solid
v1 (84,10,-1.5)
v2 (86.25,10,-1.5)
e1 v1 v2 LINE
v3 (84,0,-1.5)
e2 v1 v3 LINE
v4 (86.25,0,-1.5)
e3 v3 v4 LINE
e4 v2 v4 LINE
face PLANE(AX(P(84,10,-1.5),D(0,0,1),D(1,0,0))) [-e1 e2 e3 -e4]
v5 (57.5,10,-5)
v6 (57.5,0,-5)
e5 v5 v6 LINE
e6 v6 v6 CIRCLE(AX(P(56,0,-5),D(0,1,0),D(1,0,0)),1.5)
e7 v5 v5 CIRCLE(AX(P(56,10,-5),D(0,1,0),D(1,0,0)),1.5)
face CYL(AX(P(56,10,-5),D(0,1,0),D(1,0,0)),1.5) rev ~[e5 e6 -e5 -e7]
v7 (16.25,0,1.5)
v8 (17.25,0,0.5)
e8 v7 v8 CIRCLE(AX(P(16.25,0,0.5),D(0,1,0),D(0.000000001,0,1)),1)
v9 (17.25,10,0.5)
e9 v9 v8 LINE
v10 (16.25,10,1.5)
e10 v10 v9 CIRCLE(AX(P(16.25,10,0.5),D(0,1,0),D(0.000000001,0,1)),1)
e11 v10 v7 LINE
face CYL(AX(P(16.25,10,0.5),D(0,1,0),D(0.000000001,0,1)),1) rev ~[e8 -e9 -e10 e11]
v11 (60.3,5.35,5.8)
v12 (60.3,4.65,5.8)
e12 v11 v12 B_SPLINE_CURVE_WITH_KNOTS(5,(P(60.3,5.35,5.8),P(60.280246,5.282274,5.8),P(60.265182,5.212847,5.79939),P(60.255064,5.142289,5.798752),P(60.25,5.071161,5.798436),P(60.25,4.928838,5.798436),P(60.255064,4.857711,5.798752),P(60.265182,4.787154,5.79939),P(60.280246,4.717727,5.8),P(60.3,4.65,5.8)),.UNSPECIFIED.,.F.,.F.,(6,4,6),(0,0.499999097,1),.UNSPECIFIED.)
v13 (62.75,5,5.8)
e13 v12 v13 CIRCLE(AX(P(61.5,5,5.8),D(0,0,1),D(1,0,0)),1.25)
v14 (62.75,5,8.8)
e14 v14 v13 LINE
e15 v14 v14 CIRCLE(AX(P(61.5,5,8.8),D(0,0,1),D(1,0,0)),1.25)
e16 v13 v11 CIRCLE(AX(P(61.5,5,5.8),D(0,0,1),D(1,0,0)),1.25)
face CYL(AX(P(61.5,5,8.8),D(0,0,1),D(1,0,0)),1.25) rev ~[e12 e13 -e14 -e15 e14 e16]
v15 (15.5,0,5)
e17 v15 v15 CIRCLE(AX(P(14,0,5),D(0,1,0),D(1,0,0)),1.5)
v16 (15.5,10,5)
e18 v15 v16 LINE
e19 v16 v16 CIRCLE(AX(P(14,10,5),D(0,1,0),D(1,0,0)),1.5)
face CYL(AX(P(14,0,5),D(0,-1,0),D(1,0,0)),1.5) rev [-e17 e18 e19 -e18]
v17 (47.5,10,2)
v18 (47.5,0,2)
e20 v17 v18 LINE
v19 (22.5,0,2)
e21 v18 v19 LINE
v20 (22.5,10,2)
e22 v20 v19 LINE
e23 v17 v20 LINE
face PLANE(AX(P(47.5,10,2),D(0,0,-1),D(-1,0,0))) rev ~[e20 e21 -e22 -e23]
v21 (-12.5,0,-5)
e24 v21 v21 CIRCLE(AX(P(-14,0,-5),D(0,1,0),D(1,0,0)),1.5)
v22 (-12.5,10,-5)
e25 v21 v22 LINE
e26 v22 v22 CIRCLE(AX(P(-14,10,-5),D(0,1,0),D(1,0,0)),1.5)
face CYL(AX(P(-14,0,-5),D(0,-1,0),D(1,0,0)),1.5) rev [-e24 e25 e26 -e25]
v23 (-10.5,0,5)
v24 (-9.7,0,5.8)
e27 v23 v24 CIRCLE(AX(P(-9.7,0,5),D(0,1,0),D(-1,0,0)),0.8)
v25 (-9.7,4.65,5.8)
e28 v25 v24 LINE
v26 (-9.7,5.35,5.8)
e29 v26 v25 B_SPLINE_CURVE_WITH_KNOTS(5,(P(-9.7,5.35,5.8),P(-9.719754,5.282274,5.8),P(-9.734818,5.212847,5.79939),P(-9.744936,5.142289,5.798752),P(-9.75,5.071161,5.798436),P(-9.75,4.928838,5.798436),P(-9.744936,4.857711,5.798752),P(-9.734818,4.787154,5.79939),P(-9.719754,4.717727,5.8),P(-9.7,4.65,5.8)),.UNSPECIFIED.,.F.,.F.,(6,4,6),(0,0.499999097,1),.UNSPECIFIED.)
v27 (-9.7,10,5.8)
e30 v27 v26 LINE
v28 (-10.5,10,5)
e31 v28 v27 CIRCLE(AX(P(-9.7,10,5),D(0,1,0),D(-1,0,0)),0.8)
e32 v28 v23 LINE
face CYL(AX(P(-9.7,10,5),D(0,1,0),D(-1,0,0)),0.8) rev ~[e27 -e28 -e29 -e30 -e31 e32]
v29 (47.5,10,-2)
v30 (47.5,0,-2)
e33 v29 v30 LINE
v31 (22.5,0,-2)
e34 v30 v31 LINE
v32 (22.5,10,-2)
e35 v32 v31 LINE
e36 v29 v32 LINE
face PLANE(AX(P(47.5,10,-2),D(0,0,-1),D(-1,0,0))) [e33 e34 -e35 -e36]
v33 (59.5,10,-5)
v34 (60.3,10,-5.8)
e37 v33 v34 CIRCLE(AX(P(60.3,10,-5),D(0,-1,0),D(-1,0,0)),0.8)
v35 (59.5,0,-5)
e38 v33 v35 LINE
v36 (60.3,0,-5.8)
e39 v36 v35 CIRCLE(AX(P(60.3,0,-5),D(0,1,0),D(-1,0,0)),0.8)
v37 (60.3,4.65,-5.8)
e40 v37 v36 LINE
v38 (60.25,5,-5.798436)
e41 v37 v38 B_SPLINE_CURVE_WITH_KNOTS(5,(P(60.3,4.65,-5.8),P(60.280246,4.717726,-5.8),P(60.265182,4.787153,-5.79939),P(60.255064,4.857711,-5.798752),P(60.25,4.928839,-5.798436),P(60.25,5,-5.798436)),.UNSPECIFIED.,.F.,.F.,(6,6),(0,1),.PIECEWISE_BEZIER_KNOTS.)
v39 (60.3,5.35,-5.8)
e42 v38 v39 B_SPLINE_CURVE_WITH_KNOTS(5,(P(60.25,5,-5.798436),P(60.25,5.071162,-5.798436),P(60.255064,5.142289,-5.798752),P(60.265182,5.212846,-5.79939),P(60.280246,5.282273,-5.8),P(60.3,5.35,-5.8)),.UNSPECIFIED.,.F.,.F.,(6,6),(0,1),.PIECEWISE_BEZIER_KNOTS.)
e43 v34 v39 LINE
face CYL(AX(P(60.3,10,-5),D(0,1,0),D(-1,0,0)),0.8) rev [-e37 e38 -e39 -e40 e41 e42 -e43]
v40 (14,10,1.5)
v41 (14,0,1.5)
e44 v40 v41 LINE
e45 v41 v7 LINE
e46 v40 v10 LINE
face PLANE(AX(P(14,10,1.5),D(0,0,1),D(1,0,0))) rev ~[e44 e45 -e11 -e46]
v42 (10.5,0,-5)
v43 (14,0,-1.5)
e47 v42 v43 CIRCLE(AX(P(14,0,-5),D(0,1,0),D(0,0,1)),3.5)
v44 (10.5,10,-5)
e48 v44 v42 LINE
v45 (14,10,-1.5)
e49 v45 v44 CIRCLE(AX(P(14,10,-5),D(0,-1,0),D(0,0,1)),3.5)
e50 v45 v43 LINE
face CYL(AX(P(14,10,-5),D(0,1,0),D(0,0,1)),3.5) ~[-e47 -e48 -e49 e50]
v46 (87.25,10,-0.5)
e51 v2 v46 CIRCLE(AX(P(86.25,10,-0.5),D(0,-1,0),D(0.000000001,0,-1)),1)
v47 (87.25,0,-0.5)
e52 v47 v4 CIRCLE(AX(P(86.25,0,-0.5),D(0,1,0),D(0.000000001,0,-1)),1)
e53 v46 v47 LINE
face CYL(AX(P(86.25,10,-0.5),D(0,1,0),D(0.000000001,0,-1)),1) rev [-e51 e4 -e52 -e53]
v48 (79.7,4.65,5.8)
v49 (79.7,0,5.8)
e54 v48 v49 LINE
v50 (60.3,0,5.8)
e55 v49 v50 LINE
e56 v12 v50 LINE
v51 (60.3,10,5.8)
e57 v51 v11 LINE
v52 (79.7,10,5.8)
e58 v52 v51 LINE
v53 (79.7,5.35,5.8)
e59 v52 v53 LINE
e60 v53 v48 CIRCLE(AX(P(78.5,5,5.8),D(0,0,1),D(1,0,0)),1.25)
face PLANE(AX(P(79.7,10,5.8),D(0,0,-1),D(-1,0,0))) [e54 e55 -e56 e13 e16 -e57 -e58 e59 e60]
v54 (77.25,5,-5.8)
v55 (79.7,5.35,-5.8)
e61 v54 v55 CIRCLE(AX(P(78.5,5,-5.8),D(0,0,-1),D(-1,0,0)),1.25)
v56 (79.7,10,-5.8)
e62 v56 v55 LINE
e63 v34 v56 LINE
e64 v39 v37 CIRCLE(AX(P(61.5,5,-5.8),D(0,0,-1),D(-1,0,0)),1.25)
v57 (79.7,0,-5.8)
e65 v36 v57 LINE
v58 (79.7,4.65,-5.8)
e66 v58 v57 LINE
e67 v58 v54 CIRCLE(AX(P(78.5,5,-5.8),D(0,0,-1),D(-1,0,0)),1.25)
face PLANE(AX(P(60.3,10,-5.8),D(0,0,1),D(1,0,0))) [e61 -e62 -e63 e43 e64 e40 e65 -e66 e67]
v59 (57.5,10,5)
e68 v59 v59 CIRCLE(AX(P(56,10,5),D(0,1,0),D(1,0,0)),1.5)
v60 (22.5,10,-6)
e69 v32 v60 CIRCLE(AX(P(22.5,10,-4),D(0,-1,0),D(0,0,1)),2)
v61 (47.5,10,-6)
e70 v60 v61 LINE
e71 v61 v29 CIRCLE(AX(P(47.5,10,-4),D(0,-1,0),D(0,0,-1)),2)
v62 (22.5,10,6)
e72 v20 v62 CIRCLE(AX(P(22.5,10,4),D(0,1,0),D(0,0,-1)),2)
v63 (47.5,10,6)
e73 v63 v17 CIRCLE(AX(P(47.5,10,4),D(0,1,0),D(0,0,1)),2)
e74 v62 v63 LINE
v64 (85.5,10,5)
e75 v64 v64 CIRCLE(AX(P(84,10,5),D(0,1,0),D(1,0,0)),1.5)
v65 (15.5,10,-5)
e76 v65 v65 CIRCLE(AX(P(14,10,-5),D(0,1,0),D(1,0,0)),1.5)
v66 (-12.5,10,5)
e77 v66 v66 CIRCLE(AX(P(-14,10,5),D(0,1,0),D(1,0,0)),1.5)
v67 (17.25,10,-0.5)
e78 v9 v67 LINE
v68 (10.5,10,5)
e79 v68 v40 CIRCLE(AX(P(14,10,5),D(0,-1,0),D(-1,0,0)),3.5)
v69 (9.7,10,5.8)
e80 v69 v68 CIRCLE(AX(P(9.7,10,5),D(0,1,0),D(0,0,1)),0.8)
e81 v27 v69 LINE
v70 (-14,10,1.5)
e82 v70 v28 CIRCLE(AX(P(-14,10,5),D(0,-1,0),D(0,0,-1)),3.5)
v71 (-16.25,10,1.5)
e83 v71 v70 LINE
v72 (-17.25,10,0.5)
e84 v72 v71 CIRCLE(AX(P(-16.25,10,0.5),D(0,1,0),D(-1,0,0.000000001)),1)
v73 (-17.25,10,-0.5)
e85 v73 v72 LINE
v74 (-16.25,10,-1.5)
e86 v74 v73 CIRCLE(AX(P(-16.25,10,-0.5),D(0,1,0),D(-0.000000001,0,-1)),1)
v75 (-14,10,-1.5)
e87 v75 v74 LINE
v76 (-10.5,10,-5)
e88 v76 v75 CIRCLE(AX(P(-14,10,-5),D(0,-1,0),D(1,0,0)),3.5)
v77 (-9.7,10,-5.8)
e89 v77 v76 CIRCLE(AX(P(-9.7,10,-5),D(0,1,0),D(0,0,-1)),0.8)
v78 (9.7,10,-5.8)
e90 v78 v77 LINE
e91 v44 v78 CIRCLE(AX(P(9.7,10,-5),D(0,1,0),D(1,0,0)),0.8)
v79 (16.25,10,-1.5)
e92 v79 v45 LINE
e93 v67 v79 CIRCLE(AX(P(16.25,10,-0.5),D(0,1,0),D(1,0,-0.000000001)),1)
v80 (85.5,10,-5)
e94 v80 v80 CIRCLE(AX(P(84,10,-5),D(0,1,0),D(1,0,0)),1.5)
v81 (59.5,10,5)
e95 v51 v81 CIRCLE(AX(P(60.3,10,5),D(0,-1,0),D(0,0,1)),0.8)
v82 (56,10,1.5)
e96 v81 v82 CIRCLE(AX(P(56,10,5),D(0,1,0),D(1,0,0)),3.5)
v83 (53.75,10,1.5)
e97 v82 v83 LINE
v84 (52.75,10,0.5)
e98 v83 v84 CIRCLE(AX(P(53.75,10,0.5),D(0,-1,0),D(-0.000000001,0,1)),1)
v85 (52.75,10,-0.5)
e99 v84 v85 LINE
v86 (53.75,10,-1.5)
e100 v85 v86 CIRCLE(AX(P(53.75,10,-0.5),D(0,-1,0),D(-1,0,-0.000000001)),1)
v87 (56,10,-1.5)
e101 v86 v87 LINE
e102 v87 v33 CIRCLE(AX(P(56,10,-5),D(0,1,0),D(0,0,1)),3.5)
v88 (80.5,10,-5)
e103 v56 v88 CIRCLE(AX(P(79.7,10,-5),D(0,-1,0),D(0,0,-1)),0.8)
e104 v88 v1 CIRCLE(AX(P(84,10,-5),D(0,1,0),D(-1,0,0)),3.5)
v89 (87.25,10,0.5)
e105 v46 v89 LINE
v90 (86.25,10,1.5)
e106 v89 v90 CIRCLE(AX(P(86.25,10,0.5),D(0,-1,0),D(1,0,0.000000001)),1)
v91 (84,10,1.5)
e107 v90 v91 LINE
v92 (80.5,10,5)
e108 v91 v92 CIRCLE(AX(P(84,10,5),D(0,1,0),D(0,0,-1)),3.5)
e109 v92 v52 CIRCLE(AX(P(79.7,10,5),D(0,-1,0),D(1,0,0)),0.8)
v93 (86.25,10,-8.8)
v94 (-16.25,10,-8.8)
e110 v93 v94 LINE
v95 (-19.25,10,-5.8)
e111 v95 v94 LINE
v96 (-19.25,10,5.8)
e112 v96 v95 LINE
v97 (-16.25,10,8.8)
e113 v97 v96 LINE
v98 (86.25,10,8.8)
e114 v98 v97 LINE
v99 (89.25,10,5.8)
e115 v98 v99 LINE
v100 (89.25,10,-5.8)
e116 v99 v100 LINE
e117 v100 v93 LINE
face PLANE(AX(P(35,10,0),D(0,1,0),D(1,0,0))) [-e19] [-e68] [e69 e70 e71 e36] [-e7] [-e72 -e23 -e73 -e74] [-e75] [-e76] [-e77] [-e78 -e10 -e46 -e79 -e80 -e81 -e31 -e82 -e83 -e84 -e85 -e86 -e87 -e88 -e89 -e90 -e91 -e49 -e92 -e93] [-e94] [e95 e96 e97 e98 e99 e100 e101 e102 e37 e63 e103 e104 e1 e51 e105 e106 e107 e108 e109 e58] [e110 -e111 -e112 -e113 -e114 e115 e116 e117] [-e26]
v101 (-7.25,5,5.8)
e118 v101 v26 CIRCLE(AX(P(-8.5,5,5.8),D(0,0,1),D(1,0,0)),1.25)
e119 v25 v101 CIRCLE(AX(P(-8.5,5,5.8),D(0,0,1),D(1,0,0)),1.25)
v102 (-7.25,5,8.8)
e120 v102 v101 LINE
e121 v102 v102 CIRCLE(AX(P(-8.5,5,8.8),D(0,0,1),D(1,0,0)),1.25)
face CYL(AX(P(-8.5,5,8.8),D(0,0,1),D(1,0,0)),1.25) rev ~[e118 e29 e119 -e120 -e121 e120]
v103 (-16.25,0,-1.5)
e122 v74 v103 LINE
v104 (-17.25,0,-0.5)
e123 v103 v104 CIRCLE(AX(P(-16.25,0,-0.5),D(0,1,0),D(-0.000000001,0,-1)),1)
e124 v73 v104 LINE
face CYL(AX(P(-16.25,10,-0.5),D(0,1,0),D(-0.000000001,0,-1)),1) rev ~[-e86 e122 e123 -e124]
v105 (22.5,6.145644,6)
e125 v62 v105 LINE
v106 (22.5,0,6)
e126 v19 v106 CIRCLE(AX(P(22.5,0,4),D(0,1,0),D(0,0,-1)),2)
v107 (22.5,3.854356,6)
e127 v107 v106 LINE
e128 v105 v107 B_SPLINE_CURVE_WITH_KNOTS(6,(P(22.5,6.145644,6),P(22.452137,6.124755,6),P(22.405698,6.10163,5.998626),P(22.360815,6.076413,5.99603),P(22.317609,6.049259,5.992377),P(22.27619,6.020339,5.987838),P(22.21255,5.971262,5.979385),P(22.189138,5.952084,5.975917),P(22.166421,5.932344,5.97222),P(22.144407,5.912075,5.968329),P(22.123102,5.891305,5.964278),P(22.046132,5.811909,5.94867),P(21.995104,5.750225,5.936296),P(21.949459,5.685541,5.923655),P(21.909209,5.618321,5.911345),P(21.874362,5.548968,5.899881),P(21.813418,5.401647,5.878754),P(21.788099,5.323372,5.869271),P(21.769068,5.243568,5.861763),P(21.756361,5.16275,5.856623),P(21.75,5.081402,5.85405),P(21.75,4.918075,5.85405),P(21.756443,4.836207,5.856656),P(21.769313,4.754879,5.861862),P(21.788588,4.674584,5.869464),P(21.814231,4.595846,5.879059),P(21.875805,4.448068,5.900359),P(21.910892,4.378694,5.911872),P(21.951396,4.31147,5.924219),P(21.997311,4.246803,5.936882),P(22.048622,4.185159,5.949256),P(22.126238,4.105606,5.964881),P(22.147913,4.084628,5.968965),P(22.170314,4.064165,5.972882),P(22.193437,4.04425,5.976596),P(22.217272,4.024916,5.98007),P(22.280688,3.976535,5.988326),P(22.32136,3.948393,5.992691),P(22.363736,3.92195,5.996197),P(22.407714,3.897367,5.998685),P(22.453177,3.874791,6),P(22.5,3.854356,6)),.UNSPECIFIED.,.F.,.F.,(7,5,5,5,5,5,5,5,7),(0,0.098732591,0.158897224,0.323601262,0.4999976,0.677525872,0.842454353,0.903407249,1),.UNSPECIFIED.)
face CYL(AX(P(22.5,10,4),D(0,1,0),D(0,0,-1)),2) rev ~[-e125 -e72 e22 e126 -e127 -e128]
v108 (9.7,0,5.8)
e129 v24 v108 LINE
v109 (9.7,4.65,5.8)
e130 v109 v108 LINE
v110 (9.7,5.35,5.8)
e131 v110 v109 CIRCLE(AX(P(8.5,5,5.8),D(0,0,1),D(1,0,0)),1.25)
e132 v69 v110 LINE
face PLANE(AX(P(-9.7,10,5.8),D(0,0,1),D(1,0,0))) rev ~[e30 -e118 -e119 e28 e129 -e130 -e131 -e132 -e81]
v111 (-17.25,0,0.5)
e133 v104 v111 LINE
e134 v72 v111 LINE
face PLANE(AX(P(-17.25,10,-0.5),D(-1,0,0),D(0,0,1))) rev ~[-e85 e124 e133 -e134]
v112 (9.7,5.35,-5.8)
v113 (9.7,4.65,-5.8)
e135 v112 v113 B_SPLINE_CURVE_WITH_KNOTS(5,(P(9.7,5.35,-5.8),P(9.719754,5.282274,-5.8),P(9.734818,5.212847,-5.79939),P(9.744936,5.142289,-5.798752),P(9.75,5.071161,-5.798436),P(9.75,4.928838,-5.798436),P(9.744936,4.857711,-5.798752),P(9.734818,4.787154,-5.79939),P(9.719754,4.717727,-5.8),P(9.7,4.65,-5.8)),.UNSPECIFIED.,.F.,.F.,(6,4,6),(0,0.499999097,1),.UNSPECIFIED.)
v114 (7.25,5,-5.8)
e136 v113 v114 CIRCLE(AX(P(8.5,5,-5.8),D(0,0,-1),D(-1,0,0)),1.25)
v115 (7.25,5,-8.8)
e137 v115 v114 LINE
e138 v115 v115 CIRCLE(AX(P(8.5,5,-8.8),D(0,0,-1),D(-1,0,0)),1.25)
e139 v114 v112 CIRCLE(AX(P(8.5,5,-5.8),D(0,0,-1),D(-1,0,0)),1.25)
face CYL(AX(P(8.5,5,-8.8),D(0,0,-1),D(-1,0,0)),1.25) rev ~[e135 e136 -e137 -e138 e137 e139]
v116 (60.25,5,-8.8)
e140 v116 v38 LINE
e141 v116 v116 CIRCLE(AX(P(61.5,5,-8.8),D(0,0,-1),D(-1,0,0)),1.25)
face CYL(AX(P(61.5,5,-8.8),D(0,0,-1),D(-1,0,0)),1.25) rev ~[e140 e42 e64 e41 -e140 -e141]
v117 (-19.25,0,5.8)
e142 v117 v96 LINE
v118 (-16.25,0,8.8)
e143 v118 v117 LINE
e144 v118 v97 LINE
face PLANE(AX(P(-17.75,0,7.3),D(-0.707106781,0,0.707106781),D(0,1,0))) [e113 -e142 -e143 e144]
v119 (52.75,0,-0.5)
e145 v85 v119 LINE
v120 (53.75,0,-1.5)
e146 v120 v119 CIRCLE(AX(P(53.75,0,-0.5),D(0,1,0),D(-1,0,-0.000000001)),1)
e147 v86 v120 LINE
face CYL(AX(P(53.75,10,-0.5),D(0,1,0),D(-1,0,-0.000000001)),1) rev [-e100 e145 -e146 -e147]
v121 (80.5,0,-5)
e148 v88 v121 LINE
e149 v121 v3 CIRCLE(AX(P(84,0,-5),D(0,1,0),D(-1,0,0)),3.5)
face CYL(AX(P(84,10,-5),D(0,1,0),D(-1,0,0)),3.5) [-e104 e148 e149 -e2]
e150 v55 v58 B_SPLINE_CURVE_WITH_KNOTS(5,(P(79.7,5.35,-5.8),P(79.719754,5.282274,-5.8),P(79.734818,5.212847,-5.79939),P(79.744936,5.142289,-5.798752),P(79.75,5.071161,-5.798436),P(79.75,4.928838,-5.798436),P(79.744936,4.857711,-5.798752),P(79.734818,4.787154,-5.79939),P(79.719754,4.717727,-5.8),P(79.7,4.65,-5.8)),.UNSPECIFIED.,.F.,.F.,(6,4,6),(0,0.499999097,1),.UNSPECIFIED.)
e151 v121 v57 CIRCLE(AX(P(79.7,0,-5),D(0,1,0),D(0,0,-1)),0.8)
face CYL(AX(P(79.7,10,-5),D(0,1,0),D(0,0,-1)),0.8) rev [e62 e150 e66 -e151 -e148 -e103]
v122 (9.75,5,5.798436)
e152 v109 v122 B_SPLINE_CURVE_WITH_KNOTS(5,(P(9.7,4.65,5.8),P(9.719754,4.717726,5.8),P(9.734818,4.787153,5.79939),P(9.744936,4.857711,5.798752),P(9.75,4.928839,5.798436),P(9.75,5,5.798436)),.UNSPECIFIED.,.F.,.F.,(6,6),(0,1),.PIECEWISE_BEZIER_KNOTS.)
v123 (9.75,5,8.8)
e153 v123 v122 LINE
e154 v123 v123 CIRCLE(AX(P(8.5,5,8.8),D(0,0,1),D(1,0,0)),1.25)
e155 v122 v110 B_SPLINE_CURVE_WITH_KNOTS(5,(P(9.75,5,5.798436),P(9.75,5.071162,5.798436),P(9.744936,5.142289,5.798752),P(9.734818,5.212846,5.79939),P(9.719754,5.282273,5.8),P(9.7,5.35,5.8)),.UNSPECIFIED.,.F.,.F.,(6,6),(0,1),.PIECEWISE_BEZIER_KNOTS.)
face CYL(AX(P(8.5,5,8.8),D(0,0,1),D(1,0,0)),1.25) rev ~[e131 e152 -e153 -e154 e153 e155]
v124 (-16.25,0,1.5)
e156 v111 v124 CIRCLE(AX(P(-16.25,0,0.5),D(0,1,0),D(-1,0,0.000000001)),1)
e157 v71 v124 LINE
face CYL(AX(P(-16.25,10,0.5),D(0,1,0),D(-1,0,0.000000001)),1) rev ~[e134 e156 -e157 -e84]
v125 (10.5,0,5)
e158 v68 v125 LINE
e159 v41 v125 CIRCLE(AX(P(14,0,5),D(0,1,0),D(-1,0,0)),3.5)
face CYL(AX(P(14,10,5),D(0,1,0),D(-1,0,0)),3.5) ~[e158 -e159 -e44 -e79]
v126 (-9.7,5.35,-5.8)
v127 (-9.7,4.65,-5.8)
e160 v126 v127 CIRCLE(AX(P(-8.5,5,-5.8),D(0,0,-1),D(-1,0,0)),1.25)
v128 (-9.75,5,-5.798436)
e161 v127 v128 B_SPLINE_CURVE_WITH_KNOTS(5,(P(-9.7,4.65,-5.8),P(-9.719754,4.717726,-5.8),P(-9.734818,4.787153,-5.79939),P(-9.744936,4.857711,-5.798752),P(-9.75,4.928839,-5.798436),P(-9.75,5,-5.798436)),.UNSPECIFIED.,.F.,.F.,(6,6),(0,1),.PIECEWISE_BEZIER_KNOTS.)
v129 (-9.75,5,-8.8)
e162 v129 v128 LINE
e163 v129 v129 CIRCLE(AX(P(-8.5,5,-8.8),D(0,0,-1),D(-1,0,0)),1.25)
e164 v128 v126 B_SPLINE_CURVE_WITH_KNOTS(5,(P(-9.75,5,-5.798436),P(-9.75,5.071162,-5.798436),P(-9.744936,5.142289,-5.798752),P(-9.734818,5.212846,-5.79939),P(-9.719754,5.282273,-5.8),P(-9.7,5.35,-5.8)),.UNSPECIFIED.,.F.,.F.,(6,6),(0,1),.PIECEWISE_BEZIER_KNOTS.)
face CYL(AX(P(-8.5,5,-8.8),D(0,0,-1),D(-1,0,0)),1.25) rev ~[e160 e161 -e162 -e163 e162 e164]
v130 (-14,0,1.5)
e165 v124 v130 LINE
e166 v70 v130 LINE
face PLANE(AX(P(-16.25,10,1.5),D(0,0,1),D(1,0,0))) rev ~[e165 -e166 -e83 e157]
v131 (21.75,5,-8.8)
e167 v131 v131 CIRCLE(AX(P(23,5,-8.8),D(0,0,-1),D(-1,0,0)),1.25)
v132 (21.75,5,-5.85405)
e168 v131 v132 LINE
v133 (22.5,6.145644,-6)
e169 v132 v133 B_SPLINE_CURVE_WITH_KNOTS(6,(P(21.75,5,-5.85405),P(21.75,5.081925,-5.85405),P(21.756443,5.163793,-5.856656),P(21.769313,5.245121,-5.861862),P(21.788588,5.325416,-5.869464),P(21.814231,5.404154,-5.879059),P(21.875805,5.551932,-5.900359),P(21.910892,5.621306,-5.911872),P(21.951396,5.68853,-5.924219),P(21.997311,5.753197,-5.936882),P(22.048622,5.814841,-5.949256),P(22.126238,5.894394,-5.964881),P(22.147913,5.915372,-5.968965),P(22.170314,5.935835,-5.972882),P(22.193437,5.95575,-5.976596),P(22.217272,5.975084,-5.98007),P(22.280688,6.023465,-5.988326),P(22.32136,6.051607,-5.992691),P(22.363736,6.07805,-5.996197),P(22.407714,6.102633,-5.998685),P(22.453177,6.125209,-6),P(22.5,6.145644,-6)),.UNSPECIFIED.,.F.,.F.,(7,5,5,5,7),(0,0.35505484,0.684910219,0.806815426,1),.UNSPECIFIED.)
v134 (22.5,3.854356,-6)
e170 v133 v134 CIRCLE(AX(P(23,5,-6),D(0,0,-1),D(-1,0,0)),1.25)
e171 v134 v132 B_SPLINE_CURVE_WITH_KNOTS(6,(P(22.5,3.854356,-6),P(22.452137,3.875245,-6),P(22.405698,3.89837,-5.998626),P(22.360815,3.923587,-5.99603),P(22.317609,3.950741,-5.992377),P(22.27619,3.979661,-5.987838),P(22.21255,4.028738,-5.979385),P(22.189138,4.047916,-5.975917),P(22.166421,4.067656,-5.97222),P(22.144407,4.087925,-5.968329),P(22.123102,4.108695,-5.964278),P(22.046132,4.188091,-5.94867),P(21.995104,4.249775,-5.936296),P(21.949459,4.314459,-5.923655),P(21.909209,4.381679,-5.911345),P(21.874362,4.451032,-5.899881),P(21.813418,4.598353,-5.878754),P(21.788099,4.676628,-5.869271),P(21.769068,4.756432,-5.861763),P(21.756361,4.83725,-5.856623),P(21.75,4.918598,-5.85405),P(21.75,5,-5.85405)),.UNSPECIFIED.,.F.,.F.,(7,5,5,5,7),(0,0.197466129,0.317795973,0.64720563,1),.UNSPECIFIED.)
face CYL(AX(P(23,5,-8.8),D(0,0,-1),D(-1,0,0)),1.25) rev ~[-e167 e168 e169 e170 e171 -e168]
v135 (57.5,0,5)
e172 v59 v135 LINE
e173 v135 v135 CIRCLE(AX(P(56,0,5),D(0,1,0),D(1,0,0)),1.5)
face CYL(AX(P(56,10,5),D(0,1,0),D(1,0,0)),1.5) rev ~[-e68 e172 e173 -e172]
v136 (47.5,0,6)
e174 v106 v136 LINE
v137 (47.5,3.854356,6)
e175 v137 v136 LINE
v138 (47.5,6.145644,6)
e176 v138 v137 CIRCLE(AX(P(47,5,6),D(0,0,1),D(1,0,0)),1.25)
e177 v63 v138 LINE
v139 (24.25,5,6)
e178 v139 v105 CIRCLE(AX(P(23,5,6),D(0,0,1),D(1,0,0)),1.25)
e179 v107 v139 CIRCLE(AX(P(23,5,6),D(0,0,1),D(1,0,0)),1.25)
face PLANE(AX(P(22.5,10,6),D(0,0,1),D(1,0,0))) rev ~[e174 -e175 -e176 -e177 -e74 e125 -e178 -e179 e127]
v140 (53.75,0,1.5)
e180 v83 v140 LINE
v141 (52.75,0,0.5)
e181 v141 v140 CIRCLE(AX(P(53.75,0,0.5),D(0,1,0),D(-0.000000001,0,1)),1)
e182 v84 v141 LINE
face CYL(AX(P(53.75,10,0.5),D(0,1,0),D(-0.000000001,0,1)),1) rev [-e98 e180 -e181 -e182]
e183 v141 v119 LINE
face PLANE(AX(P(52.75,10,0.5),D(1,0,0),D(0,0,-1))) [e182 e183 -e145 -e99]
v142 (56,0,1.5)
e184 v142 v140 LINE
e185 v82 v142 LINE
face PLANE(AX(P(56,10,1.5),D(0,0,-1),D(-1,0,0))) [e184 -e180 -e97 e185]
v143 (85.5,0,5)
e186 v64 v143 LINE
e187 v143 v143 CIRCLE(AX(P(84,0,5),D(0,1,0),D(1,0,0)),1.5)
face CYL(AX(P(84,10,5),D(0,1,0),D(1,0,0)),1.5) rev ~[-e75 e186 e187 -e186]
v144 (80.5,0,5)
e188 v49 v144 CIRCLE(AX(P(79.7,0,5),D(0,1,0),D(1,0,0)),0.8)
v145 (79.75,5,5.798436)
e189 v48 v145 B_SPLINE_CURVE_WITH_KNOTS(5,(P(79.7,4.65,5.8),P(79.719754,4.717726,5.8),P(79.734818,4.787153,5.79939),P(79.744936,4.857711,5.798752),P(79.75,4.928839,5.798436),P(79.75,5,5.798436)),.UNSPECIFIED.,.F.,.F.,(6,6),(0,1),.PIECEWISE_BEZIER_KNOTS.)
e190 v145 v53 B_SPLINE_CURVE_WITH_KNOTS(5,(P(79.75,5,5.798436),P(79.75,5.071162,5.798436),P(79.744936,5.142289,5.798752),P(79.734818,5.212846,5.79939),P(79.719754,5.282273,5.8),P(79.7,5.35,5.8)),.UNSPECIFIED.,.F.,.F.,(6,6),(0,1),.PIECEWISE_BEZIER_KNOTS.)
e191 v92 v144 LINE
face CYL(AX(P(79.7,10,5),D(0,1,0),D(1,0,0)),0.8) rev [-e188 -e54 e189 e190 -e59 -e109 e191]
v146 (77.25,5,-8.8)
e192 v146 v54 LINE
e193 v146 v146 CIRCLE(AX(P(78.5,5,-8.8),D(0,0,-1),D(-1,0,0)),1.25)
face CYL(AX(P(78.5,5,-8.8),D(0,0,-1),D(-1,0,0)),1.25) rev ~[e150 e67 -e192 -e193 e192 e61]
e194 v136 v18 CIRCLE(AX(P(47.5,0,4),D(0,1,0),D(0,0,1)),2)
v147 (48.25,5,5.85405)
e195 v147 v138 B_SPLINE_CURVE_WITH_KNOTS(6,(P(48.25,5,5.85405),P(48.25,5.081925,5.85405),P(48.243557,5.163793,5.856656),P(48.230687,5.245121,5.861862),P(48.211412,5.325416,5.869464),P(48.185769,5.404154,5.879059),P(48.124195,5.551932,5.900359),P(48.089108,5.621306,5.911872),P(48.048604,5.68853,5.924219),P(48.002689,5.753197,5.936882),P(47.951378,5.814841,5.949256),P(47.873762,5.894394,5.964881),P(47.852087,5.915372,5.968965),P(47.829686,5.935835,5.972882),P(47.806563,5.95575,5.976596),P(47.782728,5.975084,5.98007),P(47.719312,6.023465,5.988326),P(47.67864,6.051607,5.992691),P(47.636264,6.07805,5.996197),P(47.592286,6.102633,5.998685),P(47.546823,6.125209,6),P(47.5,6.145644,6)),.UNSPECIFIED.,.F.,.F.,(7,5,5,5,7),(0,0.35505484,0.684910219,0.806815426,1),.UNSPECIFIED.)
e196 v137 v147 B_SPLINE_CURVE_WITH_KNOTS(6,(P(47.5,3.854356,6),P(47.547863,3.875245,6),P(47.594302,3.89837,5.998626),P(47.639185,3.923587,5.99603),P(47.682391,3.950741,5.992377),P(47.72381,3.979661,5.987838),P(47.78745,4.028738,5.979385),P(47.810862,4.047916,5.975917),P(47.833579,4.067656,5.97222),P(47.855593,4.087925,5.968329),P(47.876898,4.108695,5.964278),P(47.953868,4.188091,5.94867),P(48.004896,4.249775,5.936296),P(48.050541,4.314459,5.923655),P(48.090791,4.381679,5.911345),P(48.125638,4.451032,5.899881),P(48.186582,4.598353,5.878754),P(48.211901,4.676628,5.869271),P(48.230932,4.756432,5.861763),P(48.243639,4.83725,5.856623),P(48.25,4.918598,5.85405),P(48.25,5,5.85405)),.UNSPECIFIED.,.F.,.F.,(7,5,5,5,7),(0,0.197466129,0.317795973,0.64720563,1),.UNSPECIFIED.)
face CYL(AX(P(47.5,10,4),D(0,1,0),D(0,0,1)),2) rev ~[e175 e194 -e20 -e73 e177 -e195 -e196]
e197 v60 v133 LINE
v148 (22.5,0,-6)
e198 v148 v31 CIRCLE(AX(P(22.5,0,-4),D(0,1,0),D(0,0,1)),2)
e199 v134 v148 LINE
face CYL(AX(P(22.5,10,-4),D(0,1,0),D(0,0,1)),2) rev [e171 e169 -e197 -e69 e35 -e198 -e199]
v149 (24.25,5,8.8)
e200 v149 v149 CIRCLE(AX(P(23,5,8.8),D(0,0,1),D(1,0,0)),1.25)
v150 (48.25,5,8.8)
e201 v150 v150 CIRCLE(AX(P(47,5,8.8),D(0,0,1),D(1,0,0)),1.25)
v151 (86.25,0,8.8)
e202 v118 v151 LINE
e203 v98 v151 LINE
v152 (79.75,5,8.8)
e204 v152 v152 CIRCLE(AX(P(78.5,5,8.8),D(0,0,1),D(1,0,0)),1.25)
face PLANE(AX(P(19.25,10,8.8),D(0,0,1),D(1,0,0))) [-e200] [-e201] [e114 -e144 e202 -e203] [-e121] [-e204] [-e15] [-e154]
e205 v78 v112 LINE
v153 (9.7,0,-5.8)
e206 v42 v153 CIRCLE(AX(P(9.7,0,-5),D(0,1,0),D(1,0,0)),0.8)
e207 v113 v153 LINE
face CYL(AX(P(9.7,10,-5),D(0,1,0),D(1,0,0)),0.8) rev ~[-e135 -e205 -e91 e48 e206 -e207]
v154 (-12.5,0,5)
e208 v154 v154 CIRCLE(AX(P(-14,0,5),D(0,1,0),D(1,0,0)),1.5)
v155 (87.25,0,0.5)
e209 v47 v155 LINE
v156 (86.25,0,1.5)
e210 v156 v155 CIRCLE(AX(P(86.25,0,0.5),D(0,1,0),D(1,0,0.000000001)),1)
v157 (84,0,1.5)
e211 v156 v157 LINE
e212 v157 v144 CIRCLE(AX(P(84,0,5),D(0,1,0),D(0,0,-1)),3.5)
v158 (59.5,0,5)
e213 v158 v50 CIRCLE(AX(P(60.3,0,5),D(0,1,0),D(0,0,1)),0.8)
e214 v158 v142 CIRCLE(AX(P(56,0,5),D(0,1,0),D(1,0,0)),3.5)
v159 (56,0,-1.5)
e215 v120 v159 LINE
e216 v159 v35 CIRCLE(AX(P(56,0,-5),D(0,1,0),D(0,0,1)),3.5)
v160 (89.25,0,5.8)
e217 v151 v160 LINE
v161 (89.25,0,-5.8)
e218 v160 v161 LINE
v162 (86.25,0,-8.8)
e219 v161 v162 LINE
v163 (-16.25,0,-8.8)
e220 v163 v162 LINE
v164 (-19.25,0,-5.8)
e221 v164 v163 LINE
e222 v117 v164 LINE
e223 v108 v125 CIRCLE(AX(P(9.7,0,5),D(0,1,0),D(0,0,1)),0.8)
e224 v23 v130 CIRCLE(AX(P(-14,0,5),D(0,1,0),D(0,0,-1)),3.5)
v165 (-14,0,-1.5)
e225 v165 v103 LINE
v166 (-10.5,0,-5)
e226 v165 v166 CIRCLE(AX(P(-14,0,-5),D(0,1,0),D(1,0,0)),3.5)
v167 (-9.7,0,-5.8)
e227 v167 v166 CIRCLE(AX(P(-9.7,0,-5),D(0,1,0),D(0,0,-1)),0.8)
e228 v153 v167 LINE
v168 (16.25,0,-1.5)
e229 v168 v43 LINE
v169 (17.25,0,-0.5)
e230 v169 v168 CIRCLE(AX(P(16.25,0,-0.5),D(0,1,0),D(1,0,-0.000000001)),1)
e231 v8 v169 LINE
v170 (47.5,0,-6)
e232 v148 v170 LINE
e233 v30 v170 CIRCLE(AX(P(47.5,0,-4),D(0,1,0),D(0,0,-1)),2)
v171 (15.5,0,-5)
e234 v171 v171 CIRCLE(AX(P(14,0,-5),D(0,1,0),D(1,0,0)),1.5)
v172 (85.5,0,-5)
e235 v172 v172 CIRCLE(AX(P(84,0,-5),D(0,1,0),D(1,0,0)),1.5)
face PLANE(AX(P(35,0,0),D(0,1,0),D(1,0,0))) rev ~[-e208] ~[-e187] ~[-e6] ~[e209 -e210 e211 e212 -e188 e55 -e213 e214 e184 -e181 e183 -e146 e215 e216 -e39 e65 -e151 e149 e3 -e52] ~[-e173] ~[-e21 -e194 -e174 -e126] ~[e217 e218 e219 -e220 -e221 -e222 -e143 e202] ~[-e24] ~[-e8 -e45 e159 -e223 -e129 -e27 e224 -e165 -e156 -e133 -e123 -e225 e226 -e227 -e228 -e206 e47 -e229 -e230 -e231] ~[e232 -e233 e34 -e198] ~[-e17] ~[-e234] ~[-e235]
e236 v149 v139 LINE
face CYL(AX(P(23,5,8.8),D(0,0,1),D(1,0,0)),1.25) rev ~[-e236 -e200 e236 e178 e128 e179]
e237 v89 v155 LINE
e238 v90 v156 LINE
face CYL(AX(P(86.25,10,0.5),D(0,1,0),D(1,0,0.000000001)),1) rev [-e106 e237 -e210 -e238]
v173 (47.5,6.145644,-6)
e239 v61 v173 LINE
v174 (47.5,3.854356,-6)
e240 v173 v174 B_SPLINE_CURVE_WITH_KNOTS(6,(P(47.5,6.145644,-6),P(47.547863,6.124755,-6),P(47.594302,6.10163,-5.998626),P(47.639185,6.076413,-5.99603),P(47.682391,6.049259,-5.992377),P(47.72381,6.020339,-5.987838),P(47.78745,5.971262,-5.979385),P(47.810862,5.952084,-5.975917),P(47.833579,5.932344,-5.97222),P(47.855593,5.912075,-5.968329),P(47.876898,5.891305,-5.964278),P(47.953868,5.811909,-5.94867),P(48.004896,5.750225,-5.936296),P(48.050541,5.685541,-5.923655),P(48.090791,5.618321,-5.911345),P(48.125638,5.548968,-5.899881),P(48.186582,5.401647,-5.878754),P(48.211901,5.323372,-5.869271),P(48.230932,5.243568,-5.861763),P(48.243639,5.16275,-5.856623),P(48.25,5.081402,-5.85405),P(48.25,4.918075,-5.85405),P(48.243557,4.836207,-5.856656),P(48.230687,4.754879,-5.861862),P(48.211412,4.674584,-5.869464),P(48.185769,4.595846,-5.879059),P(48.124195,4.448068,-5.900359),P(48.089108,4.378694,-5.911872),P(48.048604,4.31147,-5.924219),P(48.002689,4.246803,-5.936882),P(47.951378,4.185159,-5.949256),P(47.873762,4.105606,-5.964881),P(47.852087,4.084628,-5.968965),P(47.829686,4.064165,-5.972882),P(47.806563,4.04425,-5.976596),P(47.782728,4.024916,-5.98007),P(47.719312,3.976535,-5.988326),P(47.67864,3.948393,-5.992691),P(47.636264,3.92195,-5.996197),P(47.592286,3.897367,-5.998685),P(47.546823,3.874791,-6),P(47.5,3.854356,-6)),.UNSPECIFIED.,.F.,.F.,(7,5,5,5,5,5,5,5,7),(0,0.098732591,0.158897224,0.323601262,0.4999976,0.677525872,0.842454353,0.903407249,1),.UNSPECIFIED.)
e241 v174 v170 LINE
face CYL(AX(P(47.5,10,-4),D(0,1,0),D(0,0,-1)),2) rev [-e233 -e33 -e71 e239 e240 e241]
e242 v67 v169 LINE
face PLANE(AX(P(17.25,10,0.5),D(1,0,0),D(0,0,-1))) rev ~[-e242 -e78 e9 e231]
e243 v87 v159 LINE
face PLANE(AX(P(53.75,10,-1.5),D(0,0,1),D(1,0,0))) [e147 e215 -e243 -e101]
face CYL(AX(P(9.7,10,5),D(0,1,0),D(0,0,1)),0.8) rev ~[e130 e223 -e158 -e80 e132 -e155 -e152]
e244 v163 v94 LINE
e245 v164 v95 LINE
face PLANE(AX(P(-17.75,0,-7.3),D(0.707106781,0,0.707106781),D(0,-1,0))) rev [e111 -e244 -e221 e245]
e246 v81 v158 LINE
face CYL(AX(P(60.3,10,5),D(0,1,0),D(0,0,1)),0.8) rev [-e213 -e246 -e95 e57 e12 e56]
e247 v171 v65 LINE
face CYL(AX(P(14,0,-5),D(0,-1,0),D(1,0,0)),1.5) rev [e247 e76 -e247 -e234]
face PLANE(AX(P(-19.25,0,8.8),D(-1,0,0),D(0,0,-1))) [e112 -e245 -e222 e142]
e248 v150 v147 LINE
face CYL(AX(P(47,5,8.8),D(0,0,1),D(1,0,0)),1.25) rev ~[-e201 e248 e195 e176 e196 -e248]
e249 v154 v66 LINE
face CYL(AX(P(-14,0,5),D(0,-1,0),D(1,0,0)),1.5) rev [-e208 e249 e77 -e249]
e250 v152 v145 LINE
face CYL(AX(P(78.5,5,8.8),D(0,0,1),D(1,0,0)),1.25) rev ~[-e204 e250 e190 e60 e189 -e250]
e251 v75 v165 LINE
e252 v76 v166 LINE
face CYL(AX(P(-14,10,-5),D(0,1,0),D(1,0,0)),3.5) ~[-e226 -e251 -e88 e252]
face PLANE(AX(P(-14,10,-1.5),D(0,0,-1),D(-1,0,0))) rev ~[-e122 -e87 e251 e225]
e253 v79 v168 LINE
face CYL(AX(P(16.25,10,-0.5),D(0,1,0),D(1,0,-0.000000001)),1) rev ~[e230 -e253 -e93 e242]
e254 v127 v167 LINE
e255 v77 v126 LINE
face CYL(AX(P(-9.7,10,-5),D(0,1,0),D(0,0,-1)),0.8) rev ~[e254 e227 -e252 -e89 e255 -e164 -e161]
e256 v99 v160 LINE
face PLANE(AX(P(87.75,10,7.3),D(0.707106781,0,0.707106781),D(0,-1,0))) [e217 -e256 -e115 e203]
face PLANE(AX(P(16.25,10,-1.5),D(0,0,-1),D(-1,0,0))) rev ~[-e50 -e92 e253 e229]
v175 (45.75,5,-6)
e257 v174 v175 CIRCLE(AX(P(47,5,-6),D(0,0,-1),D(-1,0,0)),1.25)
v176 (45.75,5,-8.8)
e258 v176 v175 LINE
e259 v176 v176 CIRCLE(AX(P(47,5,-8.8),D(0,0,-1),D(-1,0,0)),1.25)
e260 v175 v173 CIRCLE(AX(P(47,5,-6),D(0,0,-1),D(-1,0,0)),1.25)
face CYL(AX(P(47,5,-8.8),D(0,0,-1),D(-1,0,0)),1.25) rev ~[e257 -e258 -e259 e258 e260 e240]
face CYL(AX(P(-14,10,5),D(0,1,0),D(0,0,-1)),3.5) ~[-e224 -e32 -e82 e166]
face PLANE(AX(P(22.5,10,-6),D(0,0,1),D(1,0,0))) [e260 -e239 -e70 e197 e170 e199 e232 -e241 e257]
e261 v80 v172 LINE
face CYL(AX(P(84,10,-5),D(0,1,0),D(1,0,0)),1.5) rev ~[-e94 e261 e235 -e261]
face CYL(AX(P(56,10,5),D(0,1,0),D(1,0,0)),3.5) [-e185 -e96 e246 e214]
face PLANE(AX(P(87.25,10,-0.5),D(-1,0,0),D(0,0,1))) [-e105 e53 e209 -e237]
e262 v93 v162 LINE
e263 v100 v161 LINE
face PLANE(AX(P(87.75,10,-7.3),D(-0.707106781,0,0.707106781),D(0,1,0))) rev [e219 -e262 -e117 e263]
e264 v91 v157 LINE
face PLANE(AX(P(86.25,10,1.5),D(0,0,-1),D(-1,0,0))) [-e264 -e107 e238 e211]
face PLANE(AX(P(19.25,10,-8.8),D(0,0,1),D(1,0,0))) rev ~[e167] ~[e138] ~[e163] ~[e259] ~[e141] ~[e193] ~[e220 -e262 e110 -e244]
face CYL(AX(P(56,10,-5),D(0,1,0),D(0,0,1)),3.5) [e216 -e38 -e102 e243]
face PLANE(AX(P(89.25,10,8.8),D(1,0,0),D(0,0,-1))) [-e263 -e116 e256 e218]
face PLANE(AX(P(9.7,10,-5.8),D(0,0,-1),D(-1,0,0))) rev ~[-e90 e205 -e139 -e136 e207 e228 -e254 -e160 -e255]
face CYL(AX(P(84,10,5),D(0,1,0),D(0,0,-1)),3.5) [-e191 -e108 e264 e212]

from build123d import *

# Parameters (mm, degrees)
SKETCH_1_W          = 38.5
SKETCH_1_H          = 17.6
SKETCH_1_R          = 1.5
EXTRUDE_1_DEPTH     = 10
CUT_EXTRUDE_1_DEPTH = 11
SKETCH_5_W          = 38.5
SKETCH_5_H          = 17.6
SKETCH_5_R          = 1.5
EXTRUDE_6_DEPTH     = 10
SKETCH_10_W         = 31.5
SKETCH_10_H         = 17.6
EXTRUDE_7_DEPTH     = 10
CUT_EXTRUDE_5_DEPTH = 11
CUT_EXTRUDE_6_DEPTH = 11
CHAMFER_1_SIZE      = 3
CUT_EXTRUDE_8_REACH = 19.6
SKETCH_14_R         = 1.25
CUT_EXTRUDE_9_REACH = 19.6
SKETCH_15_R         = 1.25


with BuildPart() as part:
    # 草图1 → 凸台-拉伸1 (new body)
    with BuildSketch(Plane(origin=(0, 0, 0), x_dir=(1, 0, 0), z_dir=(0, 1, 0))):
        Rectangle(SKETCH_1_W, SKETCH_1_H)
        with Locations((-14, 5)):
            Circle(SKETCH_1_R, mode=Mode.SUBTRACT)
        with Locations((-14, -5)):
            Circle(SKETCH_1_R, mode=Mode.SUBTRACT)
        with Locations((14, -5)):
            Circle(SKETCH_1_R, mode=Mode.SUBTRACT)
        with Locations((14, 5)):
            Circle(SKETCH_1_R, mode=Mode.SUBTRACT)
    extrude(amount=EXTRUDE_1_DEPTH)

    # 草图2 → 切除-拉伸1 (cut, through all)
    with BuildSketch(Plane(origin=(0, 10, 0), x_dir=(1, 0, 0), z_dir=(0, 1, 0))):
        with BuildLine():
            Line((9.7, 5.8), (-9.7, 5.8))
            ThreePointArc((-9.7, 5.8), (-10.265685425, 5.565685425), (-10.5, 5))
            ThreePointArc((-10.5, 5), (-11.525126266, 2.525126266), (-14, 1.5))
            Line((-14, 1.5), (-16.25, 1.5))
            ThreePointArc((-16.25, 1.5), (-16.957106781, 1.207106781), (-17.25, 0.5))
            Line((-17.25, 0.5), (-17.25, -0.5))
            ThreePointArc((-17.25, -0.5), (-16.957106781, -1.207106781), (-16.25, -1.5))
            Line((-16.25, -1.5), (-14, -1.5))
            ThreePointArc((-14, -1.5), (-11.525126266, -2.525126266), (-10.5, -5))
            ThreePointArc((-10.5, -5), (-10.265685425, -5.565685425), (-9.7, -5.8))
            Line((-9.7, -5.8), (9.7, -5.8))
            ThreePointArc((9.7, -5.8), (10.265685425, -5.565685425), (10.5, -5))
            ThreePointArc((10.5, -5), (11.525126266, -2.525126266), (14, -1.5))
            Line((14, -1.5), (16.25, -1.5))
            ThreePointArc((16.25, -1.5), (16.957106781, -1.207106781), (17.25, -0.5))
            Line((17.25, -0.5), (17.25, 0.5))
            ThreePointArc((17.25, 0.5), (16.957106781, 1.207106781), (16.25, 1.5))
            Line((16.25, 1.5), (14, 1.5))
            ThreePointArc((14, 1.5), (11.525126266, 2.525126266), (10.5, 5))
            ThreePointArc((10.5, 5), (10.265685425, 5.565685425), (9.7, 5.8))
        make_face()
    extrude(amount=-CUT_EXTRUDE_1_DEPTH, mode=Mode.SUBTRACT)



with BuildPart() as body_2:
    # 草图5 → 凸台-拉伸6 (new body)
    with BuildSketch(Plane(origin=(0, 10, 0), x_dir=(1, 0, 0), z_dir=(0, 1, 0))):
        with Locations((70, 0)):
            Rectangle(SKETCH_5_W, SKETCH_5_H)
        with Locations((56, 5)):
            Circle(SKETCH_5_R, mode=Mode.SUBTRACT)
        with Locations((84, 5)):
            Circle(SKETCH_5_R, mode=Mode.SUBTRACT)
        with Locations((84, -5)):
            Circle(SKETCH_5_R, mode=Mode.SUBTRACT)
        with Locations((56, -5)):
            Circle(SKETCH_5_R, mode=Mode.SUBTRACT)
    extrude(amount=-EXTRUDE_6_DEPTH)


with BuildPart() as part_1:
    add(part.part)

    add(body_2.part)  # 凸台-拉伸7 merges body 2
    # 草图10 → 凸台-拉伸7 (add)
    with BuildSketch(Plane(origin=(0, 10, 0), x_dir=(1, 0, 0), z_dir=(0, 1, 0))):
        with Locations((35, 0)):
            Rectangle(SKETCH_10_W, SKETCH_10_H)
    extrude(amount=-EXTRUDE_7_DEPTH)

    # 草图11 → 切除-拉伸5 (cut, through all)
    with BuildSketch(Plane(origin=(0, 10, 0), x_dir=(1, 0, 0), z_dir=(0, 1, 0))):
        with BuildLine():
            Line((16.25, 1.5), (14, 1.5))
            ThreePointArc((14, 1.5), (11.525126266, 2.525126266), (10.5, 5))
            ThreePointArc((10.5, 5), (10.265685425, 5.565685425), (9.7, 5.8))
            Line((9.7, 5.8), (-9.7, 5.8))
            ThreePointArc((-9.7, 5.8), (-10.265685425, 5.565685425), (-10.5, 5))
            ThreePointArc((-10.5, 5), (-11.525126266, 2.525126266), (-14, 1.5))
            Line((-14, 1.5), (-16.25, 1.5))
            ThreePointArc((-16.25, 1.5), (-16.957106781, 1.207106781), (-17.25, 0.5))
            Line((-17.25, 0.5), (-17.25, -0.5))
            ThreePointArc((-17.25, -0.5), (-16.957106781, -1.207106781), (-16.25, -1.5))
            Line((-16.25, -1.5), (-14, -1.5))
            ThreePointArc((-14, -1.5), (-11.525126266, -2.525126266), (-10.5, -5))
            ThreePointArc((-10.5, -5), (-10.265685425, -5.565685425), (-9.7, -5.8))
            Line((-9.7, -5.8), (9.7, -5.8))
            ThreePointArc((9.7, -5.8), (10.265685425, -5.565685425), (10.5, -5))
            ThreePointArc((10.5, -5), (11.525126266, -2.525126266), (14, -1.5))
            Line((14, -1.5), (16.25, -1.5))
            ThreePointArc((16.25, -1.5), (16.957106781, -1.207106781), (17.25, -0.5))
            Line((17.25, -0.5), (17.25, 0.5))
            ThreePointArc((17.25, 0.5), (16.957106781, 1.207106781), (16.25, 1.5))
        make_face()
        with BuildLine():
            Line((53.75, 1.5), (56, 1.5))
            ThreePointArc((56, 1.5), (58.474873734, 2.525126266), (59.5, 5))
            ThreePointArc((59.5, 5), (59.734314575, 5.565685425), (60.3, 5.8))
            Line((60.3, 5.8), (79.7, 5.8))
            ThreePointArc((79.7, 5.8), (80.265685425, 5.565685425), (80.5, 5))
            ThreePointArc((80.5, 5), (81.525126266, 2.525126266), (84, 1.5))
            Line((84, 1.5), (86.25, 1.5))
            ThreePointArc((86.25, 1.5), (86.957106781, 1.207106781), (87.25, 0.5))
            Line((87.25, 0.5), (87.25, -0.5))
            ThreePointArc((87.25, -0.5), (86.957106781, -1.207106781), (86.25, -1.5))
            Line((86.25, -1.5), (84, -1.5))
            ThreePointArc((84, -1.5), (81.525126266, -2.525126266), (80.5, -5))
            ThreePointArc((80.5, -5), (80.265685425, -5.565685425), (79.7, -5.8))
            Line((79.7, -5.8), (60.3, -5.8))
            ThreePointArc((60.3, -5.8), (59.734314575, -5.565685425), (59.5, -5))
            ThreePointArc((59.5, -5), (58.474873734, -2.525126266), (56, -1.5))
            Line((56, -1.5), (53.75, -1.5))
            ThreePointArc((53.75, -1.5), (53.042893219, -1.207106781), (52.75, -0.5))
            Line((52.75, -0.5), (52.75, 0.5))
            ThreePointArc((52.75, 0.5), (53.042893219, 1.207106781), (53.75, 1.5))
        make_face()
    extrude(amount=-CUT_EXTRUDE_5_DEPTH, mode=Mode.SUBTRACT)

    # 草图12 → 切除-拉伸6 (cut, through all)
    with BuildSketch(Plane(origin=(0, 10, 0), x_dir=(1, 0, 0), z_dir=(0, 1, 0))):
        with BuildLine():
            Line((22.5, 6), (47.5, 6))
            ThreePointArc((47.5, 6), (49.5, 4), (47.5, 2))
            Line((47.5, 2), (22.5, 2))
            ThreePointArc((22.5, 2), (20.5, 4), (22.5, 6))
        make_face()
        with BuildLine():
            Line((22.5, -6), (47.5, -6))
            ThreePointArc((47.5, -6), (49.5, -4), (47.5, -2))
            Line((47.5, -2), (22.5, -2))
            ThreePointArc((22.5, -2), (20.5, -4), (22.5, -6))
        make_face()
    extrude(amount=-CUT_EXTRUDE_6_DEPTH, mode=Mode.SUBTRACT)

    # 倒角1
    chamfer_1_edges = [part_1.edges().sort_by_distance(p)[0] for p in [
        (89.25, 5, 8.8),
        (89.25, 5, -8.8),
        (-19.25, 5, 8.8),
        (-19.25, 5, -8.8),
    ]]
    chamfer(chamfer_1_edges, length=CHAMFER_1_SIZE)

    # 草图14 → 切除-拉伸8 (cut, up to next)
    with BuildSketch(Plane(origin=(0, 0, -8.8), x_dir=(-1, 0, 0), z_dir=(0, 0, -1)), mode=Mode.PRIVATE) as cut_extrude_8_sk1:
        with Locations((-47, 5)):
            Circle(SKETCH_14_R)
    cut_extrude_8_tool1 = extrude(cut_extrude_8_sk1.sketch, amount=-CUT_EXTRUDE_8_REACH, mode=Mode.PRIVATE) & part_1.part
    add(cut_extrude_8_tool1.solids().sort_by_distance((47, 5, -8.8))[0], mode=Mode.SUBTRACT)
    # 草图14 → 切除-拉伸8 (cut, up to next)
    with BuildSketch(Plane(origin=(0, 0, -8.8), x_dir=(-1, 0, 0), z_dir=(0, 0, -1)), mode=Mode.PRIVATE) as cut_extrude_8_sk2:
        with Locations((-78.5, 5)):
            Circle(SKETCH_14_R)
    cut_extrude_8_tool2 = extrude(cut_extrude_8_sk2.sketch, amount=-CUT_EXTRUDE_8_REACH, mode=Mode.PRIVATE) & part_1.part
    add(cut_extrude_8_tool2.solids().sort_by_distance((78.5, 5, -8.8))[0], mode=Mode.SUBTRACT)
    # 草图14 → 切除-拉伸8 (cut, up to next)
    with BuildSketch(Plane(origin=(0, 0, -8.8), x_dir=(-1, 0, 0), z_dir=(0, 0, -1)), mode=Mode.PRIVATE) as cut_extrude_8_sk3:
        with Locations((-61.5, 5)):
            Circle(SKETCH_14_R)
    cut_extrude_8_tool3 = extrude(cut_extrude_8_sk3.sketch, amount=-CUT_EXTRUDE_8_REACH, mode=Mode.PRIVATE) & part_1.part
    add(cut_extrude_8_tool3.solids().sort_by_distance((61.5, 5, -8.8))[0], mode=Mode.SUBTRACT)
    # 草图14 → 切除-拉伸8 (cut, up to next)
    with BuildSketch(Plane(origin=(0, 0, -8.8), x_dir=(-1, 0, 0), z_dir=(0, 0, -1)), mode=Mode.PRIVATE) as cut_extrude_8_sk4:
        with Locations((-23, 5)):
            Circle(SKETCH_14_R)
    cut_extrude_8_tool4 = extrude(cut_extrude_8_sk4.sketch, amount=-CUT_EXTRUDE_8_REACH, mode=Mode.PRIVATE) & part_1.part
    add(cut_extrude_8_tool4.solids().sort_by_distance((23, 5, -8.8))[0], mode=Mode.SUBTRACT)
    # 草图14 → 切除-拉伸8 (cut, up to next)
    with BuildSketch(Plane(origin=(0, 0, -8.8), x_dir=(-1, 0, 0), z_dir=(0, 0, -1)), mode=Mode.PRIVATE) as cut_extrude_8_sk5:
        with Locations((-8.5, 5)):
            Circle(SKETCH_14_R)
    cut_extrude_8_tool5 = extrude(cut_extrude_8_sk5.sketch, amount=-CUT_EXTRUDE_8_REACH, mode=Mode.PRIVATE) & part_1.part
    add(cut_extrude_8_tool5.solids().sort_by_distance((8.5, 5, -8.8))[0], mode=Mode.SUBTRACT)
    # 草图14 → 切除-拉伸8 (cut, up to next)
    with BuildSketch(Plane(origin=(0, 0, -8.8), x_dir=(-1, 0, 0), z_dir=(0, 0, -1)), mode=Mode.PRIVATE) as cut_extrude_8_sk6:
        with Locations((8.5, 5)):
            Circle(SKETCH_14_R)
    cut_extrude_8_tool6 = extrude(cut_extrude_8_sk6.sketch, amount=-CUT_EXTRUDE_8_REACH, mode=Mode.PRIVATE) & part_1.part
    add(cut_extrude_8_tool6.solids().sort_by_distance((-8.5, 5, -8.8))[0], mode=Mode.SUBTRACT)

    # 草图15 → 切除-拉伸9 (cut, up to next)
    with BuildSketch(Plane.XY.offset(8.8), mode=Mode.PRIVATE) as cut_extrude_9_sk1:
        with Locations((-8.5, 5)):
            Circle(SKETCH_15_R)
    cut_extrude_9_tool1 = extrude(cut_extrude_9_sk1.sketch, amount=-CUT_EXTRUDE_9_REACH, mode=Mode.PRIVATE) & part_1.part
    add(cut_extrude_9_tool1.solids().sort_by_distance((-8.5, 5, 8.8))[0], mode=Mode.SUBTRACT)
    # 草图15 → 切除-拉伸9 (cut, up to next)
    with BuildSketch(Plane.XY.offset(8.8), mode=Mode.PRIVATE) as cut_extrude_9_sk2:
        with Locations((8.5, 5)):
            Circle(SKETCH_15_R)
    cut_extrude_9_tool2 = extrude(cut_extrude_9_sk2.sketch, amount=-CUT_EXTRUDE_9_REACH, mode=Mode.PRIVATE) & part_1.part
    add(cut_extrude_9_tool2.solids().sort_by_distance((8.5, 5, 8.8))[0], mode=Mode.SUBTRACT)
    # 草图15 → 切除-拉伸9 (cut, up to next)
    with BuildSketch(Plane.XY.offset(8.8), mode=Mode.PRIVATE) as cut_extrude_9_sk3:
        with Locations((23, 5)):
            Circle(SKETCH_15_R)
    cut_extrude_9_tool3 = extrude(cut_extrude_9_sk3.sketch, amount=-CUT_EXTRUDE_9_REACH, mode=Mode.PRIVATE) & part_1.part
    add(cut_extrude_9_tool3.solids().sort_by_distance((23, 5, 8.8))[0], mode=Mode.SUBTRACT)
    # 草图15 → 切除-拉伸9 (cut, up to next)
    with BuildSketch(Plane.XY.offset(8.8), mode=Mode.PRIVATE) as cut_extrude_9_sk4:
        with Locations((47, 5)):
            Circle(SKETCH_15_R)
    cut_extrude_9_tool4 = extrude(cut_extrude_9_sk4.sketch, amount=-CUT_EXTRUDE_9_REACH, mode=Mode.PRIVATE) & part_1.part
    add(cut_extrude_9_tool4.solids().sort_by_distance((47, 5, 8.8))[0], mode=Mode.SUBTRACT)
    # 草图15 → 切除-拉伸9 (cut, up to next)
    with BuildSketch(Plane.XY.offset(8.8), mode=Mode.PRIVATE) as cut_extrude_9_sk5:
        with Locations((61.5, 5)):
            Circle(SKETCH_15_R)
    cut_extrude_9_tool5 = extrude(cut_extrude_9_sk5.sketch, amount=-CUT_EXTRUDE_9_REACH, mode=Mode.PRIVATE) & part_1.part
    add(cut_extrude_9_tool5.solids().sort_by_distance((61.5, 5, 8.8))[0], mode=Mode.SUBTRACT)
    # 草图15 → 切除-拉伸9 (cut, up to next)
    with BuildSketch(Plane.XY.offset(8.8), mode=Mode.PRIVATE) as cut_extrude_9_sk6:
        with Locations((78.5, 5)):
            Circle(SKETCH_15_R)
    cut_extrude_9_tool6 = extrude(cut_extrude_9_sk6.sketch, amount=-CUT_EXTRUDE_9_REACH, mode=Mode.PRIVATE) & part_1.part
    add(cut_extrude_9_tool6.solids().sort_by_distance((78.5, 5, 8.8))[0], mode=Mode.SUBTRACT)


solid = part_1.part
